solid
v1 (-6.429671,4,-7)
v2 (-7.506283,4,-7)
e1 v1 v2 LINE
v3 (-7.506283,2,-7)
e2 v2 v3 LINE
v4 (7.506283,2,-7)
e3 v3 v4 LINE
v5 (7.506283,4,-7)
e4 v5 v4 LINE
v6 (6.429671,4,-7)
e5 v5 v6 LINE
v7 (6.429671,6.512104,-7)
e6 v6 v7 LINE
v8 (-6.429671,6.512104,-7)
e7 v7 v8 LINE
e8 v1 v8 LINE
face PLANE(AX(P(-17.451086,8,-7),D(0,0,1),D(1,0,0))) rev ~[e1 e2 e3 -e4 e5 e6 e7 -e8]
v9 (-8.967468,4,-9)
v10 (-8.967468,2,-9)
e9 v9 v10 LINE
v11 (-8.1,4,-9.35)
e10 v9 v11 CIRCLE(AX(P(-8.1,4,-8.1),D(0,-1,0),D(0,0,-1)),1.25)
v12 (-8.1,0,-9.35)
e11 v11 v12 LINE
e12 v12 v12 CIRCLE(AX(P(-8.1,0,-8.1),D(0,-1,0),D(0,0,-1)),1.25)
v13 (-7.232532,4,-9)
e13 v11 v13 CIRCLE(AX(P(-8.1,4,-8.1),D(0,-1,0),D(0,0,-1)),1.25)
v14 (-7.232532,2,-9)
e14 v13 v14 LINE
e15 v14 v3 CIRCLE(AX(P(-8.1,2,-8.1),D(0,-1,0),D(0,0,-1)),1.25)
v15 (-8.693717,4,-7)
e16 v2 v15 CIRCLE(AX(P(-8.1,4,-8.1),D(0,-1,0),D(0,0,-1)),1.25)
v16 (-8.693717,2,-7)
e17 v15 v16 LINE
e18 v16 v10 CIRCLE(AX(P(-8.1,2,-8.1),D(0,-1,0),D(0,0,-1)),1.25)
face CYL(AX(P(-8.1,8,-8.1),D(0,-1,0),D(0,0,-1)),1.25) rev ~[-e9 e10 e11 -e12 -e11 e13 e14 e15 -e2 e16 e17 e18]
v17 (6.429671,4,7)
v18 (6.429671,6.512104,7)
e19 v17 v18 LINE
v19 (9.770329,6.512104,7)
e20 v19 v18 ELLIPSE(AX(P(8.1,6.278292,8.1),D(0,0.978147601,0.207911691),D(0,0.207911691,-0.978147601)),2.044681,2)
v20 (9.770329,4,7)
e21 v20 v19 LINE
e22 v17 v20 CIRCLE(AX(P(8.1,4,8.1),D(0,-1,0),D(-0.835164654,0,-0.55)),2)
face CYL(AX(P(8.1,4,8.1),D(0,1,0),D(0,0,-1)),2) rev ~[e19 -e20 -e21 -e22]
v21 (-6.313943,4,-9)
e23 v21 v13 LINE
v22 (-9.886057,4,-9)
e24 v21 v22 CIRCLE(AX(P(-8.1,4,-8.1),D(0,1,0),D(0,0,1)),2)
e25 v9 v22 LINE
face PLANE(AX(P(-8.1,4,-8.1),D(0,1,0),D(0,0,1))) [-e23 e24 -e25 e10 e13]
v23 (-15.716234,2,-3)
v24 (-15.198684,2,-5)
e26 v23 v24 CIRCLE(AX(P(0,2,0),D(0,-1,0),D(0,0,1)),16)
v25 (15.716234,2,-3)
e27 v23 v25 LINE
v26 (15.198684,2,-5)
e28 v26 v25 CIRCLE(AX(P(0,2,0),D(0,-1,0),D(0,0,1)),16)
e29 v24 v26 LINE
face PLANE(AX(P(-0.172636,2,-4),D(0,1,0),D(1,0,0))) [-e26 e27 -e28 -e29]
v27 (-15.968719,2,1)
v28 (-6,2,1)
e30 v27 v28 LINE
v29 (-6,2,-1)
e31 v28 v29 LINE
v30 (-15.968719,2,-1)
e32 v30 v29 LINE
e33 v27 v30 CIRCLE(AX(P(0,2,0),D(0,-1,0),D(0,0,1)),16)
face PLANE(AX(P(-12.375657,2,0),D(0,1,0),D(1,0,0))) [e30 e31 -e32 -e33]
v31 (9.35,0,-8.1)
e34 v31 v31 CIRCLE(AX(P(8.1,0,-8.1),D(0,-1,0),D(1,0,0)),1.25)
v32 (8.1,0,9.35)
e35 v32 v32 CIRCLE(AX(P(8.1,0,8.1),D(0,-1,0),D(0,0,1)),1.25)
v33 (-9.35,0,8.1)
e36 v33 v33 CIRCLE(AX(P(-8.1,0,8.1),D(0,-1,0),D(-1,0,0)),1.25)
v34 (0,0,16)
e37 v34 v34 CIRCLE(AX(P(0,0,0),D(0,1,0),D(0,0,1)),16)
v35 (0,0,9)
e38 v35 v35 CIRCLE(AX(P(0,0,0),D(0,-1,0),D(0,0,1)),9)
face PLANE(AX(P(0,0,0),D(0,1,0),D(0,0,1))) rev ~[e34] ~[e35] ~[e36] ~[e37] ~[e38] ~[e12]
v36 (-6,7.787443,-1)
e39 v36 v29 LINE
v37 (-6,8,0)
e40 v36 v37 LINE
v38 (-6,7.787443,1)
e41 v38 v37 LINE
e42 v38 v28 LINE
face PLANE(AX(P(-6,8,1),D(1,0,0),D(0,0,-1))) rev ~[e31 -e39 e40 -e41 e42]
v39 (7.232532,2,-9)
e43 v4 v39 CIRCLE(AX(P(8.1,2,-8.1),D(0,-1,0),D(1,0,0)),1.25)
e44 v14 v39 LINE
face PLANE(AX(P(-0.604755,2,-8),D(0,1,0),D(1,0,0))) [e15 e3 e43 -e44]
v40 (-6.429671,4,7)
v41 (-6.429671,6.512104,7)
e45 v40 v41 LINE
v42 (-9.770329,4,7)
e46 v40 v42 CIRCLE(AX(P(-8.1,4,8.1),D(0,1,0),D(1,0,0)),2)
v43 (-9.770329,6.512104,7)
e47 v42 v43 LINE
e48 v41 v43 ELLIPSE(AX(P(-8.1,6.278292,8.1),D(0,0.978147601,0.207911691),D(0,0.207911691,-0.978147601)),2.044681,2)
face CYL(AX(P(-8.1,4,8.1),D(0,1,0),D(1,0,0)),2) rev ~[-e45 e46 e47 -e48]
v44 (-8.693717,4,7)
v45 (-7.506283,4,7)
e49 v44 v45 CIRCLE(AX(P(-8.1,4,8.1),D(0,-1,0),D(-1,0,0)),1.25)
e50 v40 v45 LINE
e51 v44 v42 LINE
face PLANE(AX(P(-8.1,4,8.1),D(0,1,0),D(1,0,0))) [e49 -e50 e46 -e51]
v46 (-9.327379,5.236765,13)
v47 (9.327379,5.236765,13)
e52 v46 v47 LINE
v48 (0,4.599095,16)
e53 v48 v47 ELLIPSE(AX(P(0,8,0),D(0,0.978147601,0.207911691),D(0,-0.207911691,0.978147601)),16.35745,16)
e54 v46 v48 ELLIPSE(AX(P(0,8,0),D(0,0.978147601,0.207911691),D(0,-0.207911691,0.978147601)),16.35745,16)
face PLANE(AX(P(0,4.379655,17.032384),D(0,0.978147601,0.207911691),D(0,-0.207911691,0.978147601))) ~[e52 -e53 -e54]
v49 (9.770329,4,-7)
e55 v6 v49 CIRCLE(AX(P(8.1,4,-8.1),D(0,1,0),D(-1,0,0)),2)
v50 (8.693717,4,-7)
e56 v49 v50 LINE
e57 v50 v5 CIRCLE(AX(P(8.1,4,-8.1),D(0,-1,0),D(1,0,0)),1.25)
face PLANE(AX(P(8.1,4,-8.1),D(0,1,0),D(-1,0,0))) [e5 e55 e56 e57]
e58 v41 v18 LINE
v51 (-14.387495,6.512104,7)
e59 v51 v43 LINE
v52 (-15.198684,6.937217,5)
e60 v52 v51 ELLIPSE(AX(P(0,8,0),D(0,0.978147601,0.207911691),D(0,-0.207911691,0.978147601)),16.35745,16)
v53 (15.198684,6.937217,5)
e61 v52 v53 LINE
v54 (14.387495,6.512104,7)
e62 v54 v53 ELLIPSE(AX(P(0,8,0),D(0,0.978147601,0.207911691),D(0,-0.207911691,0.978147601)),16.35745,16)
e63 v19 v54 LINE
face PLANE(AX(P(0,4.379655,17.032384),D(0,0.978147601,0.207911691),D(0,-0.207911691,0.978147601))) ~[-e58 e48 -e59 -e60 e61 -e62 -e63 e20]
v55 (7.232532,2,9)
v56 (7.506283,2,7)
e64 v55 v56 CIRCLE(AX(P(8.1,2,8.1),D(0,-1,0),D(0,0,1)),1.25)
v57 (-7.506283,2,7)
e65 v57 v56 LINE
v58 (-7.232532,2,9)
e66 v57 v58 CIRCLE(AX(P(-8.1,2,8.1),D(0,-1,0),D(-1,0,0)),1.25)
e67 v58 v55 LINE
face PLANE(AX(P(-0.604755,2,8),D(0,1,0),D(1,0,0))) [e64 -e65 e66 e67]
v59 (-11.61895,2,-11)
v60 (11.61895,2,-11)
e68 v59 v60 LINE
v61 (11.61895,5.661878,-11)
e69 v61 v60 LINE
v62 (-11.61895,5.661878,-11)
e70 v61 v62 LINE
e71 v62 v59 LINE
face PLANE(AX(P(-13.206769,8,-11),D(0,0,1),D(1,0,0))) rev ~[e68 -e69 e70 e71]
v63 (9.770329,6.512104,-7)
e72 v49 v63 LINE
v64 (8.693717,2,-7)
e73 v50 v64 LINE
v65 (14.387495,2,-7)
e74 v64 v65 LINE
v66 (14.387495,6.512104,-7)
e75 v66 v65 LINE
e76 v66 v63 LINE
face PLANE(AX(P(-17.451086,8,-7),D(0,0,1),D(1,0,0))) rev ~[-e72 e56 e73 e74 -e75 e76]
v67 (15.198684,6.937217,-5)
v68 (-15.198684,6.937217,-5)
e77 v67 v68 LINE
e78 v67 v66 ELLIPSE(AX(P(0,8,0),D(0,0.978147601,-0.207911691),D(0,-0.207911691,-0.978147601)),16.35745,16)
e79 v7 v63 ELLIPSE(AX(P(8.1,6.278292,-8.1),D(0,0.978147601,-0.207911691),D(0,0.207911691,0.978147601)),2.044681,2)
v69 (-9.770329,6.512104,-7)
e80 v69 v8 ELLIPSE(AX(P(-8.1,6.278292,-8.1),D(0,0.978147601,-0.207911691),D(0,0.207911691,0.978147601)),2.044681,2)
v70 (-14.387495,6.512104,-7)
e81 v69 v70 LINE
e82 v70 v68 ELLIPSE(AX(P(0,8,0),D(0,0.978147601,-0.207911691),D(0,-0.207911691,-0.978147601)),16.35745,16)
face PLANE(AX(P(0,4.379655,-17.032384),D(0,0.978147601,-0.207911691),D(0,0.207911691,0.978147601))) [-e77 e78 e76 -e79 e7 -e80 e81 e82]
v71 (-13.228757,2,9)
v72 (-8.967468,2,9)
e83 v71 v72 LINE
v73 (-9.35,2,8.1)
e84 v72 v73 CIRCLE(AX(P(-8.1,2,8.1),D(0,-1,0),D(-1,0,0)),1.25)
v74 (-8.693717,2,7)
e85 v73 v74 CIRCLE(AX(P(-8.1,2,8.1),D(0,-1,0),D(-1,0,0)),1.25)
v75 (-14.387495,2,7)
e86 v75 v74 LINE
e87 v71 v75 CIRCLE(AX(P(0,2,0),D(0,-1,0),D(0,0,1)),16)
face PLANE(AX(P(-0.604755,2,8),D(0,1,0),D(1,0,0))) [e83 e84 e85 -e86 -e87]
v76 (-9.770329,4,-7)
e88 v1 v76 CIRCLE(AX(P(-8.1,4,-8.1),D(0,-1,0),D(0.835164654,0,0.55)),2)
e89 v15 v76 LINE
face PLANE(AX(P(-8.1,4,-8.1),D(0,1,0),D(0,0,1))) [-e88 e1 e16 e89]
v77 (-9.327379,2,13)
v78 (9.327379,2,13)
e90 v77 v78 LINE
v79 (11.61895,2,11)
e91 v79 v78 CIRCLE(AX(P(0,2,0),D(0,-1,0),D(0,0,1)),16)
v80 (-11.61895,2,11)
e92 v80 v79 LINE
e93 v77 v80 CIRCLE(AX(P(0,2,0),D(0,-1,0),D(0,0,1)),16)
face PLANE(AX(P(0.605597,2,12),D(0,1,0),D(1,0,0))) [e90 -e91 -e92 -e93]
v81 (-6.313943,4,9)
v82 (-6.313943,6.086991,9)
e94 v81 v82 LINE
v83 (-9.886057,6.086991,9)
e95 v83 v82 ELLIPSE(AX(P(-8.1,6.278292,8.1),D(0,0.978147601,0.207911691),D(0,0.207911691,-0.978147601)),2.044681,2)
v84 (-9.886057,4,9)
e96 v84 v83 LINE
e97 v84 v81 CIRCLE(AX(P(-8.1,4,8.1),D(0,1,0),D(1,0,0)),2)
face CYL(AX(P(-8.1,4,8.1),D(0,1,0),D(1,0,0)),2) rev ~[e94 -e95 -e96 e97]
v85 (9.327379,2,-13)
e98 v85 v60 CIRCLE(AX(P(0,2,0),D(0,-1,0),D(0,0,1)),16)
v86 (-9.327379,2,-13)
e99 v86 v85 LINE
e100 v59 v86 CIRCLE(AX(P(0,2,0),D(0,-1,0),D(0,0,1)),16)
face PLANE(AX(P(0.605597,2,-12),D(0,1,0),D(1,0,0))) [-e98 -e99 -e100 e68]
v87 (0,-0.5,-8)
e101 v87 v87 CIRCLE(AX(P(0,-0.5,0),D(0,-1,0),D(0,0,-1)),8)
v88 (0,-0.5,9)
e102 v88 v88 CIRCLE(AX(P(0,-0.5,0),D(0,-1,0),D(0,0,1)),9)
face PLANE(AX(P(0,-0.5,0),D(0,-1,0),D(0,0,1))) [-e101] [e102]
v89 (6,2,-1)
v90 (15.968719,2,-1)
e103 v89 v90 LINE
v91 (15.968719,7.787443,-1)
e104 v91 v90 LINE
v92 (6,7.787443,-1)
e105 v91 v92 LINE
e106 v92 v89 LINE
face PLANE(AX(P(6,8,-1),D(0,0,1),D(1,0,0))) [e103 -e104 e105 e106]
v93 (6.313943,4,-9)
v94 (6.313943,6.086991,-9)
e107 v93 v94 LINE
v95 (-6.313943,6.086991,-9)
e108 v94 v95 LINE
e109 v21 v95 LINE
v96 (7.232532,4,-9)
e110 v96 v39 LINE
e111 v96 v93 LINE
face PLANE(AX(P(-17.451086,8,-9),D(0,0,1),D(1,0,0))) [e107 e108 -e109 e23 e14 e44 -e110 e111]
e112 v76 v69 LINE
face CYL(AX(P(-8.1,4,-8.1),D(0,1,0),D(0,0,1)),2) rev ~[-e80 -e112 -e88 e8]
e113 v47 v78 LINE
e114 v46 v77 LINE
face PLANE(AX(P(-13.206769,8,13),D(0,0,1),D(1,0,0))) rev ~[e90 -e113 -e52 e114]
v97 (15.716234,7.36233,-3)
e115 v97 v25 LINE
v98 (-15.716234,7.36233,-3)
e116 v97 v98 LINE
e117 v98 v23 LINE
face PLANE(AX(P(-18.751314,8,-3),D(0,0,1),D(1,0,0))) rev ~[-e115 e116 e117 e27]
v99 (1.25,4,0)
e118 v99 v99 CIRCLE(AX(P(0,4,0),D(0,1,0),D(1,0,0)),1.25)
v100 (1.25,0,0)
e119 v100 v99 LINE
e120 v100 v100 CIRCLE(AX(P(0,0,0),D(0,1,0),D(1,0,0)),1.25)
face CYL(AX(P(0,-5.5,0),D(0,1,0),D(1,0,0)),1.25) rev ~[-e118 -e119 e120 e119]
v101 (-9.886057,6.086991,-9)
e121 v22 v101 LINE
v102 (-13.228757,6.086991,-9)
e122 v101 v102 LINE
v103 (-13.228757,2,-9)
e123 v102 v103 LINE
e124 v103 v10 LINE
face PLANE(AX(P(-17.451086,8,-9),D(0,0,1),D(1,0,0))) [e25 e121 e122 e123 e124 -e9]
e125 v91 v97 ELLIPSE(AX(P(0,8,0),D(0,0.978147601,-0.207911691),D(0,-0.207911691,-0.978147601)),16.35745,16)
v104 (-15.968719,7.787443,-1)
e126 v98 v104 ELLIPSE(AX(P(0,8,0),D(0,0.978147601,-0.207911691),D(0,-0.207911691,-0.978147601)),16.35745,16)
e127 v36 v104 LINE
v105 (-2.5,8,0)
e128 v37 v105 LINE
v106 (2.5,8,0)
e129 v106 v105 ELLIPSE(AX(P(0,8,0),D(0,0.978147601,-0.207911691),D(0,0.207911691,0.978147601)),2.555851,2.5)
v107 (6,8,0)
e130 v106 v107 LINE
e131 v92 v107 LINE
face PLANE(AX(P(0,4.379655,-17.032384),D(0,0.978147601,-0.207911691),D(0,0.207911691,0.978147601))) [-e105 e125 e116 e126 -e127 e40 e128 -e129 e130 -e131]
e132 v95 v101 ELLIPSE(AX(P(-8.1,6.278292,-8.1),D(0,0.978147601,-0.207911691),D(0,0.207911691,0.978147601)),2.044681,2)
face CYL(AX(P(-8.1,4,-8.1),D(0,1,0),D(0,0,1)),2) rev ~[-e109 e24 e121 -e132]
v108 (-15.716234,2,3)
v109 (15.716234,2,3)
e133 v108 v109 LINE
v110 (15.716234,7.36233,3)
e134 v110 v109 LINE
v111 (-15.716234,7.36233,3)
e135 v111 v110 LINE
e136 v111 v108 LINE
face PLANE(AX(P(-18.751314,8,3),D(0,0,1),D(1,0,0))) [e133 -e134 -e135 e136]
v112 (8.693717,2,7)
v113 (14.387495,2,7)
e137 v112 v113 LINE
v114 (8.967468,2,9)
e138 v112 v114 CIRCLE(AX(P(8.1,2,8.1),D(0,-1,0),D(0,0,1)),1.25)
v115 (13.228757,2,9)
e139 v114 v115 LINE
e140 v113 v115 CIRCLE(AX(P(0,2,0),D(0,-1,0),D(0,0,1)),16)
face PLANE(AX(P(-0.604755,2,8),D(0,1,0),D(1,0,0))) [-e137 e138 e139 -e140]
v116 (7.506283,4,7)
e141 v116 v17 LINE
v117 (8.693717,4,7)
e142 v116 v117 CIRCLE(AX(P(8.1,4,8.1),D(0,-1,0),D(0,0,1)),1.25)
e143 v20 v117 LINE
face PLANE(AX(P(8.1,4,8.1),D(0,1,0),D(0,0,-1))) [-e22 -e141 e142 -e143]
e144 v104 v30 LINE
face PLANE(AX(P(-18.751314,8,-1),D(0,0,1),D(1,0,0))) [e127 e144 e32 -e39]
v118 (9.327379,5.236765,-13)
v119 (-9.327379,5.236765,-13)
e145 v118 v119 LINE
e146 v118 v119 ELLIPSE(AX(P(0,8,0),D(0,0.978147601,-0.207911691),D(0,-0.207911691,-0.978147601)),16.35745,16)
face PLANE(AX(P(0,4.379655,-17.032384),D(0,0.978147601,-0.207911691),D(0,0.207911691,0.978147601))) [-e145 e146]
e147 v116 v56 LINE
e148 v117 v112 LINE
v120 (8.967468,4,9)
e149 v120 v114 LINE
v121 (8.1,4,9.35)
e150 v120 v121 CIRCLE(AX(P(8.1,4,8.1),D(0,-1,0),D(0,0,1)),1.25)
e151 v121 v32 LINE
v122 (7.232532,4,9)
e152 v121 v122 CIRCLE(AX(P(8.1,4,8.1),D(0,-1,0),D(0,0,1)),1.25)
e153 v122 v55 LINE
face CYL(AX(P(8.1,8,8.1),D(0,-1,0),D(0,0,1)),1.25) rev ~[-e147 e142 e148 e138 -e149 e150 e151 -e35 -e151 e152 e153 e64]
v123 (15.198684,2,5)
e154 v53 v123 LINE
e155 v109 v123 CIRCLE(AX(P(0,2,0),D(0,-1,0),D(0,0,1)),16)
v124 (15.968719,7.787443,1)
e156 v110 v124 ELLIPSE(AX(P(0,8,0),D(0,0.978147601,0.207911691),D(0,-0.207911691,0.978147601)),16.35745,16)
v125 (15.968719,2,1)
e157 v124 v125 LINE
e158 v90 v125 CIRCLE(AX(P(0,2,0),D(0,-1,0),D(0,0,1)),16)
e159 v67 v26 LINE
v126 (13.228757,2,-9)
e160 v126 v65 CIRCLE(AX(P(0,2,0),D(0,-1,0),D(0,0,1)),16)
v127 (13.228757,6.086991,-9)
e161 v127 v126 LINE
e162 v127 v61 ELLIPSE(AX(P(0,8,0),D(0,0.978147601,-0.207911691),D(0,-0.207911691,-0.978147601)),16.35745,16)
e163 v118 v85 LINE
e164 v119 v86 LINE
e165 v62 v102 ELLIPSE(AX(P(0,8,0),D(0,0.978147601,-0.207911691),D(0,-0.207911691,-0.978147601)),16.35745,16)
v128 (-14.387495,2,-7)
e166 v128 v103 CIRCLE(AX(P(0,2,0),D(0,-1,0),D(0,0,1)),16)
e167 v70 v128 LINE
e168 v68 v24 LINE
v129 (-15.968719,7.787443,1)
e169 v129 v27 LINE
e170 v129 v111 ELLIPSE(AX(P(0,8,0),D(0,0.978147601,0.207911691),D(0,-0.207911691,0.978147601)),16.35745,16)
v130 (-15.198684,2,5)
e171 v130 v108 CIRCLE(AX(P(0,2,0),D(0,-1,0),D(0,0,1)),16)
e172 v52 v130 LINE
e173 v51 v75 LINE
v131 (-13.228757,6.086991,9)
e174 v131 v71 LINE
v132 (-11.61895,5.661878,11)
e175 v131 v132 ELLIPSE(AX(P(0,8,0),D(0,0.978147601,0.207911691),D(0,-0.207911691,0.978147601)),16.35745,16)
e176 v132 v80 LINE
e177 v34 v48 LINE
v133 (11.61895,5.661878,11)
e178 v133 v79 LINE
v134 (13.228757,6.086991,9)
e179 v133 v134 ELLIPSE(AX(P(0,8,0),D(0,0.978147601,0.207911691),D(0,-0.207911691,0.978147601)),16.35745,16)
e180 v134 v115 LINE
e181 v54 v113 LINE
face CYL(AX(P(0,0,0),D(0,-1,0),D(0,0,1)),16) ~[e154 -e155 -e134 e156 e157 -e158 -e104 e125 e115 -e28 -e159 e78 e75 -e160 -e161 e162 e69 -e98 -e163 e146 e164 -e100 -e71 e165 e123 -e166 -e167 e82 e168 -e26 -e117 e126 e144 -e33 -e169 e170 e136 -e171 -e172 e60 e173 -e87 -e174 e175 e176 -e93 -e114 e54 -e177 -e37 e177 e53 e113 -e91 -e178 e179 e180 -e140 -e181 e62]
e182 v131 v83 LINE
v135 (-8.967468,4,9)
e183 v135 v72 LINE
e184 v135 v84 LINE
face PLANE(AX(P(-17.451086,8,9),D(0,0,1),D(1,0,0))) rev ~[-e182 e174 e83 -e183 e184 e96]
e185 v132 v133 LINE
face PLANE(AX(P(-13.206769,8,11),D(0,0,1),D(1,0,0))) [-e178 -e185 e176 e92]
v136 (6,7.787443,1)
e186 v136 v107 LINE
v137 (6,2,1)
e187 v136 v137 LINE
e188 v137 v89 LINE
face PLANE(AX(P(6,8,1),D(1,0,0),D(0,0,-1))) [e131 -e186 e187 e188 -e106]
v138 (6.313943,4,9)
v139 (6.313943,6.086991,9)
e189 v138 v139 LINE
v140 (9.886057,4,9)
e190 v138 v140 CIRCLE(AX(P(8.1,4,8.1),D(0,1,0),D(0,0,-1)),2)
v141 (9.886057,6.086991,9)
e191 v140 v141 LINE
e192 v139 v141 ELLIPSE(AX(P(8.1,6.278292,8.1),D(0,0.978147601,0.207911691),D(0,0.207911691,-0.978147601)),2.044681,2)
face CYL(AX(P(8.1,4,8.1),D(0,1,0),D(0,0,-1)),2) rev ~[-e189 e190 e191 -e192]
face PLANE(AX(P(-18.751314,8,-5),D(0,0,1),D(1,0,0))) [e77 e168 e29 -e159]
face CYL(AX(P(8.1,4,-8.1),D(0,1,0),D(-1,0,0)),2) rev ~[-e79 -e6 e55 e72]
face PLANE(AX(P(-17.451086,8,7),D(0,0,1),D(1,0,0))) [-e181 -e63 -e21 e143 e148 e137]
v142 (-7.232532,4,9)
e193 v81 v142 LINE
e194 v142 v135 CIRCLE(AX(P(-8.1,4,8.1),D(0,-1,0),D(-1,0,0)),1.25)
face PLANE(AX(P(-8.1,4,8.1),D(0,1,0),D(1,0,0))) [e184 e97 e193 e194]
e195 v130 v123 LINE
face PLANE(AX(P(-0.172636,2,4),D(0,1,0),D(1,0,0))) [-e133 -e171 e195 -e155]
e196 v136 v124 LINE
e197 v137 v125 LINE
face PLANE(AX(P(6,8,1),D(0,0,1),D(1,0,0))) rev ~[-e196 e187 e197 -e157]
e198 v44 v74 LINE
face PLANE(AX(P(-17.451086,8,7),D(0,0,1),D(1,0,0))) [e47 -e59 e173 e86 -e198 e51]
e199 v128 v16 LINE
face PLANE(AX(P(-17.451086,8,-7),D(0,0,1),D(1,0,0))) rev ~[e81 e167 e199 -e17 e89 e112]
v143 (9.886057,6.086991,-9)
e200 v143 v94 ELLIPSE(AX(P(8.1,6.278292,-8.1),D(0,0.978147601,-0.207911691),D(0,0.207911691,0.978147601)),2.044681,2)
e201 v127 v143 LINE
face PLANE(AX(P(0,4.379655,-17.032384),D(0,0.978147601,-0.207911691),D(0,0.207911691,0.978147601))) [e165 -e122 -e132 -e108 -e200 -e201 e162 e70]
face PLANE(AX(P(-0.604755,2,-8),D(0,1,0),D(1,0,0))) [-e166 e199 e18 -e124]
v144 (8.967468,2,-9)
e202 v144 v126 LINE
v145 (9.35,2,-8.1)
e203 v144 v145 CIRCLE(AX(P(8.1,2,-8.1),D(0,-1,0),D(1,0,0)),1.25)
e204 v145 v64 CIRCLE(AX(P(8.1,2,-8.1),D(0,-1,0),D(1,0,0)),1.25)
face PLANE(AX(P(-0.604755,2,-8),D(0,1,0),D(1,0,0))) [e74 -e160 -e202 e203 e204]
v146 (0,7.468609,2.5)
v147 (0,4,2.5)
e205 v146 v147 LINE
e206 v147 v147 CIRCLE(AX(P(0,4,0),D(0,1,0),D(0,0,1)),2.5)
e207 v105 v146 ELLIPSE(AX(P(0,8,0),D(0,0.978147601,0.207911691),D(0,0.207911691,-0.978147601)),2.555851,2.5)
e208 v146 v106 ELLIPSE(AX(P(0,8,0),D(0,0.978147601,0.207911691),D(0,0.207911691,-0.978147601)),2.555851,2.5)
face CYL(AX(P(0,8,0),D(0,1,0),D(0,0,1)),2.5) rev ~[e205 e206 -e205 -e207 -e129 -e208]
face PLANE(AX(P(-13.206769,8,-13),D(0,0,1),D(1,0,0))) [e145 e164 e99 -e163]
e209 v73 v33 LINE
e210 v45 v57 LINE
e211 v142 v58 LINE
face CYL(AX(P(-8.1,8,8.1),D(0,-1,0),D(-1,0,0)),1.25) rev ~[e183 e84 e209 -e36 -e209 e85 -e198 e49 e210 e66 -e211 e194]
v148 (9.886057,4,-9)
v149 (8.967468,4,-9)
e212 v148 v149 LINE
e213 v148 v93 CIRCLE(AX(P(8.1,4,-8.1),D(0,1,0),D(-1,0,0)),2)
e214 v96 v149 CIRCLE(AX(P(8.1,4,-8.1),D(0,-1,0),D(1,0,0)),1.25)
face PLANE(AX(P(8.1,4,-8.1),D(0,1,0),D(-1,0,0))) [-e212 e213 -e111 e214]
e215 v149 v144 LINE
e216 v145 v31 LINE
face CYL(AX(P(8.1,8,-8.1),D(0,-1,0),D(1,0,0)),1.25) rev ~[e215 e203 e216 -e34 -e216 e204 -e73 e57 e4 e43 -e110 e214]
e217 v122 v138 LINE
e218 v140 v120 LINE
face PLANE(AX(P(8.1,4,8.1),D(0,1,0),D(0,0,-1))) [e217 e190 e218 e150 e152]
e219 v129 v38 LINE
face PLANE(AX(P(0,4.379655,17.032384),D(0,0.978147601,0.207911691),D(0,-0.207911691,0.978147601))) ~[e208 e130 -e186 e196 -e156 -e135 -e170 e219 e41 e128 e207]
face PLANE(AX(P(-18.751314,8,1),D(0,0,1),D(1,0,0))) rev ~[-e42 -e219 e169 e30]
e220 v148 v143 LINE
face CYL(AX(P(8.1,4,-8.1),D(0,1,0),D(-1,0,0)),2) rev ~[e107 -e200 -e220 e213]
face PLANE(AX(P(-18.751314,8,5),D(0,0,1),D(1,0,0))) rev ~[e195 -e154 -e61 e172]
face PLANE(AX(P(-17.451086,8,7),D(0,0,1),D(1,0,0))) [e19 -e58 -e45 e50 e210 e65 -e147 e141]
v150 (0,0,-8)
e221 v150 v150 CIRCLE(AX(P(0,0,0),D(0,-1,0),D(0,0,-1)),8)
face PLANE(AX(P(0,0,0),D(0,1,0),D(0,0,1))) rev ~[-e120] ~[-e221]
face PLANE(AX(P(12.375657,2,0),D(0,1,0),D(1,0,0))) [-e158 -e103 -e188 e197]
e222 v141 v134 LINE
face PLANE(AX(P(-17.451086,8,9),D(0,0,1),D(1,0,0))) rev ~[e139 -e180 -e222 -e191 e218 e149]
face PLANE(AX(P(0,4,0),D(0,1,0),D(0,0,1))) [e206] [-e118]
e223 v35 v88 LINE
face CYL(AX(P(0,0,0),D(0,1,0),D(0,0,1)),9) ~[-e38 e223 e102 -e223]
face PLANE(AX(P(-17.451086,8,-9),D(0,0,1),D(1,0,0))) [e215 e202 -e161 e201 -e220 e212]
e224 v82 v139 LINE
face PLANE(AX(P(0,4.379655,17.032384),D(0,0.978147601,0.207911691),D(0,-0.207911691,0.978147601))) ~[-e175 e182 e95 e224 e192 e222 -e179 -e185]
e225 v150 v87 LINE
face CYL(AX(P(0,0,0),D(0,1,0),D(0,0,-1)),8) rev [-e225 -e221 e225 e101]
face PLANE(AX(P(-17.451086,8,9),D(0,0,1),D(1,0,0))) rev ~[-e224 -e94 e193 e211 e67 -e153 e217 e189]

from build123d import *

# Parameters (mm, degrees)
SKETCH2_R                                        = 16
BOSS_EXTRUDE1_DEPTH                              = 8
SKETCH3_W                                        = 27.624731793
SKETCH3_H                                        = 2
SKETCH3_W_2                                      = 37.15735793
SKETCH3_W_3                                      = 33.69266167
SKETCH3_W_4                                      = 12.751314483
CUT_EXTRUDE1_DEPTH                               = 6
SKETCH4_R                                        = 2.5
CUT_EXTRUDE2_DEPTH                               = 4
TAP_DRILL_FOR_M3X0_5_TAP1_D                      = 2.5
TAP_DRILL_FOR_M3X0_5_TAP1_DEPTH                  = 5.5
TAP_DRILL_FOR_M3X0_5_TAP1_TIP                    = 0.751075774
SKETCH8_R                                        = 9
SKETCH8_R_2                                      = 8
BOSS_EXTRUDE2_DEPTH                              = 0.5
CBORE_FOR_M4_PAN_HEAD_MACHINE_SCREW1_D           = 2.5
CBORE_FOR_M4_PAN_HEAD_MACHINE_SCREW1_DEPTH       = 8.001
CBORE_FOR_M4_PAN_HEAD_MACHINE_SCREW1_CBORE_D     = 4
CBORE_FOR_M4_PAN_HEAD_MACHINE_SCREW1_CBORE_DEPTH = 4
CIRPATTERN1_COUNT                                = 4
CUT_EXTRUDE3_DEPTH                               = 20.25


with BuildPart() as part:
    # Sketch2 → Boss-Extrude1 (new body)
    with BuildSketch(Plane(origin=(0, 0, 0), x_dir=(1, 0, 0), z_dir=(0, 1, 0))):
        with Locations(Location((0, 0, 0), (0, 0, 270))):  # turned: the seam where the file's is
            Circle(SKETCH2_R)
    extrude(amount=BOSS_EXTRUDE1_DEPTH)

    # Sketch3 → Cut-Extrude1 (cut)
    with BuildSketch(Plane(origin=(0, 8, 0), x_dir=(1, 0, 0), z_dir=(0, 1, 0))):
        with Locations((0.605596929, -12)):
            Rectangle(SKETCH3_W, SKETCH3_H)
        with Locations((-0.172635518, 4)):
            Rectangle(SKETCH3_W_2, SKETCH3_H)
        with Locations((-0.604755395, 8)):
            Rectangle(SKETCH3_W_3, SKETCH3_H)
        with Locations((0.605596929, 12)):
            Rectangle(SKETCH3_W, SKETCH3_H)
        with Locations((-0.604755395, -8)):
            Rectangle(SKETCH3_W_3, SKETCH3_H)
        with Locations((-0.172635518, -4)):
            Rectangle(SKETCH3_W_2, SKETCH3_H)
        with Locations((-12.375657242, 0)):
            Rectangle(SKETCH3_W_4, SKETCH3_H)
        with Locations((12.375657242, 0)):
            Rectangle(SKETCH3_W_4, SKETCH3_H)
    extrude(amount=-CUT_EXTRUDE1_DEPTH, mode=Mode.SUBTRACT)

    # Sketch4 → Cut-Extrude2 (cut)
    with BuildSketch(Plane(origin=(0, 8, 0), x_dir=(1, 0, 0), z_dir=(0, 1, 0))):
        with Locations(Location((0, 0, 0), (0, 0, 270))):  # turned: the seam where the file's is
            Circle(SKETCH4_R)
    extrude(amount=-CUT_EXTRUDE2_DEPTH, mode=Mode.SUBTRACT)

    # Tap Drill for M3x0.5 Tap1
    with Locations(Plane(origin=(0, 0, 0), x_dir=(-1, 0, 0), z_dir=(0, -1, 0))):
        with Locations((0, 0)):
            Hole(TAP_DRILL_FOR_M3X0_5_TAP1_D / 2, depth=TAP_DRILL_FOR_M3X0_5_TAP1_DEPTH)
            with Locations((0, 0, -(TAP_DRILL_FOR_M3X0_5_TAP1_DEPTH + TAP_DRILL_FOR_M3X0_5_TAP1_TIP / 2))):  # 118° drill point
                Cone(0, TAP_DRILL_FOR_M3X0_5_TAP1_D / 2, TAP_DRILL_FOR_M3X0_5_TAP1_TIP, mode=Mode.SUBTRACT)

    # Sketch8 → Boss-Extrude2 (add)
    with BuildSketch(Plane.XZ):
        with Locations(Location((0, 0, 0), (0, 0, 90))):  # turned: the seam where the file's is
            Circle(SKETCH8_R)
        with Locations(Location((0, 0, 0), (0, 0, 270))):  # turned: the seam where the file's is
            Circle(SKETCH8_R_2, mode=Mode.SUBTRACT)
    extrude(amount=BOSS_EXTRUDE2_DEPTH)

    # CBORE for M4 Pan Head Machine Screw1
    with Locations(Plane(origin=(0, 8, 0), x_dir=(1, 0, 0), z_dir=(0, 1, 0))):
        with Locations((-8.1, -8.1)):
            cbore_for_m4_pan_head_machine_screw1 = CounterBoreHole(CBORE_FOR_M4_PAN_HEAD_MACHINE_SCREW1_D / 2, CBORE_FOR_M4_PAN_HEAD_MACHINE_SCREW1_CBORE_D / 2, CBORE_FOR_M4_PAN_HEAD_MACHINE_SCREW1_CBORE_DEPTH, depth=CBORE_FOR_M4_PAN_HEAD_MACHINE_SCREW1_DEPTH)

    # CirPattern1: CBORE for M4 Pan Head Machine Screw1 ×4 about axis
    cirpattern1_axis = Axis((0, 0, 0), (0, 1, 0))
    for i in range(1, CIRPATTERN1_COUNT):
        add(cbore_for_m4_pan_head_machine_screw1.rotate(cirpattern1_axis, i * 360 / CIRPATTERN1_COUNT), mode=Mode.SUBTRACT)

    # Sketch12 → Cut-Extrude3 (cut, symmetric)
    with BuildSketch(Plane(origin=(0, 0, 0), x_dir=(0, 0, -1), z_dir=(1, 0, 0))):
        Polygon((0, 8), (16, 8), (17.032384138, 8), (17.032384138, 4.379654991), align=None)
    cut_extrude3 = extrude(amount=CUT_EXTRUDE3_DEPTH, both=True, mode=Mode.SUBTRACT)

    # Mirror1: Cut-Extrude3 across plane
    add(cut_extrude3.mirror(Plane.XY), mode=Mode.SUBTRACT)


solid = part.part
